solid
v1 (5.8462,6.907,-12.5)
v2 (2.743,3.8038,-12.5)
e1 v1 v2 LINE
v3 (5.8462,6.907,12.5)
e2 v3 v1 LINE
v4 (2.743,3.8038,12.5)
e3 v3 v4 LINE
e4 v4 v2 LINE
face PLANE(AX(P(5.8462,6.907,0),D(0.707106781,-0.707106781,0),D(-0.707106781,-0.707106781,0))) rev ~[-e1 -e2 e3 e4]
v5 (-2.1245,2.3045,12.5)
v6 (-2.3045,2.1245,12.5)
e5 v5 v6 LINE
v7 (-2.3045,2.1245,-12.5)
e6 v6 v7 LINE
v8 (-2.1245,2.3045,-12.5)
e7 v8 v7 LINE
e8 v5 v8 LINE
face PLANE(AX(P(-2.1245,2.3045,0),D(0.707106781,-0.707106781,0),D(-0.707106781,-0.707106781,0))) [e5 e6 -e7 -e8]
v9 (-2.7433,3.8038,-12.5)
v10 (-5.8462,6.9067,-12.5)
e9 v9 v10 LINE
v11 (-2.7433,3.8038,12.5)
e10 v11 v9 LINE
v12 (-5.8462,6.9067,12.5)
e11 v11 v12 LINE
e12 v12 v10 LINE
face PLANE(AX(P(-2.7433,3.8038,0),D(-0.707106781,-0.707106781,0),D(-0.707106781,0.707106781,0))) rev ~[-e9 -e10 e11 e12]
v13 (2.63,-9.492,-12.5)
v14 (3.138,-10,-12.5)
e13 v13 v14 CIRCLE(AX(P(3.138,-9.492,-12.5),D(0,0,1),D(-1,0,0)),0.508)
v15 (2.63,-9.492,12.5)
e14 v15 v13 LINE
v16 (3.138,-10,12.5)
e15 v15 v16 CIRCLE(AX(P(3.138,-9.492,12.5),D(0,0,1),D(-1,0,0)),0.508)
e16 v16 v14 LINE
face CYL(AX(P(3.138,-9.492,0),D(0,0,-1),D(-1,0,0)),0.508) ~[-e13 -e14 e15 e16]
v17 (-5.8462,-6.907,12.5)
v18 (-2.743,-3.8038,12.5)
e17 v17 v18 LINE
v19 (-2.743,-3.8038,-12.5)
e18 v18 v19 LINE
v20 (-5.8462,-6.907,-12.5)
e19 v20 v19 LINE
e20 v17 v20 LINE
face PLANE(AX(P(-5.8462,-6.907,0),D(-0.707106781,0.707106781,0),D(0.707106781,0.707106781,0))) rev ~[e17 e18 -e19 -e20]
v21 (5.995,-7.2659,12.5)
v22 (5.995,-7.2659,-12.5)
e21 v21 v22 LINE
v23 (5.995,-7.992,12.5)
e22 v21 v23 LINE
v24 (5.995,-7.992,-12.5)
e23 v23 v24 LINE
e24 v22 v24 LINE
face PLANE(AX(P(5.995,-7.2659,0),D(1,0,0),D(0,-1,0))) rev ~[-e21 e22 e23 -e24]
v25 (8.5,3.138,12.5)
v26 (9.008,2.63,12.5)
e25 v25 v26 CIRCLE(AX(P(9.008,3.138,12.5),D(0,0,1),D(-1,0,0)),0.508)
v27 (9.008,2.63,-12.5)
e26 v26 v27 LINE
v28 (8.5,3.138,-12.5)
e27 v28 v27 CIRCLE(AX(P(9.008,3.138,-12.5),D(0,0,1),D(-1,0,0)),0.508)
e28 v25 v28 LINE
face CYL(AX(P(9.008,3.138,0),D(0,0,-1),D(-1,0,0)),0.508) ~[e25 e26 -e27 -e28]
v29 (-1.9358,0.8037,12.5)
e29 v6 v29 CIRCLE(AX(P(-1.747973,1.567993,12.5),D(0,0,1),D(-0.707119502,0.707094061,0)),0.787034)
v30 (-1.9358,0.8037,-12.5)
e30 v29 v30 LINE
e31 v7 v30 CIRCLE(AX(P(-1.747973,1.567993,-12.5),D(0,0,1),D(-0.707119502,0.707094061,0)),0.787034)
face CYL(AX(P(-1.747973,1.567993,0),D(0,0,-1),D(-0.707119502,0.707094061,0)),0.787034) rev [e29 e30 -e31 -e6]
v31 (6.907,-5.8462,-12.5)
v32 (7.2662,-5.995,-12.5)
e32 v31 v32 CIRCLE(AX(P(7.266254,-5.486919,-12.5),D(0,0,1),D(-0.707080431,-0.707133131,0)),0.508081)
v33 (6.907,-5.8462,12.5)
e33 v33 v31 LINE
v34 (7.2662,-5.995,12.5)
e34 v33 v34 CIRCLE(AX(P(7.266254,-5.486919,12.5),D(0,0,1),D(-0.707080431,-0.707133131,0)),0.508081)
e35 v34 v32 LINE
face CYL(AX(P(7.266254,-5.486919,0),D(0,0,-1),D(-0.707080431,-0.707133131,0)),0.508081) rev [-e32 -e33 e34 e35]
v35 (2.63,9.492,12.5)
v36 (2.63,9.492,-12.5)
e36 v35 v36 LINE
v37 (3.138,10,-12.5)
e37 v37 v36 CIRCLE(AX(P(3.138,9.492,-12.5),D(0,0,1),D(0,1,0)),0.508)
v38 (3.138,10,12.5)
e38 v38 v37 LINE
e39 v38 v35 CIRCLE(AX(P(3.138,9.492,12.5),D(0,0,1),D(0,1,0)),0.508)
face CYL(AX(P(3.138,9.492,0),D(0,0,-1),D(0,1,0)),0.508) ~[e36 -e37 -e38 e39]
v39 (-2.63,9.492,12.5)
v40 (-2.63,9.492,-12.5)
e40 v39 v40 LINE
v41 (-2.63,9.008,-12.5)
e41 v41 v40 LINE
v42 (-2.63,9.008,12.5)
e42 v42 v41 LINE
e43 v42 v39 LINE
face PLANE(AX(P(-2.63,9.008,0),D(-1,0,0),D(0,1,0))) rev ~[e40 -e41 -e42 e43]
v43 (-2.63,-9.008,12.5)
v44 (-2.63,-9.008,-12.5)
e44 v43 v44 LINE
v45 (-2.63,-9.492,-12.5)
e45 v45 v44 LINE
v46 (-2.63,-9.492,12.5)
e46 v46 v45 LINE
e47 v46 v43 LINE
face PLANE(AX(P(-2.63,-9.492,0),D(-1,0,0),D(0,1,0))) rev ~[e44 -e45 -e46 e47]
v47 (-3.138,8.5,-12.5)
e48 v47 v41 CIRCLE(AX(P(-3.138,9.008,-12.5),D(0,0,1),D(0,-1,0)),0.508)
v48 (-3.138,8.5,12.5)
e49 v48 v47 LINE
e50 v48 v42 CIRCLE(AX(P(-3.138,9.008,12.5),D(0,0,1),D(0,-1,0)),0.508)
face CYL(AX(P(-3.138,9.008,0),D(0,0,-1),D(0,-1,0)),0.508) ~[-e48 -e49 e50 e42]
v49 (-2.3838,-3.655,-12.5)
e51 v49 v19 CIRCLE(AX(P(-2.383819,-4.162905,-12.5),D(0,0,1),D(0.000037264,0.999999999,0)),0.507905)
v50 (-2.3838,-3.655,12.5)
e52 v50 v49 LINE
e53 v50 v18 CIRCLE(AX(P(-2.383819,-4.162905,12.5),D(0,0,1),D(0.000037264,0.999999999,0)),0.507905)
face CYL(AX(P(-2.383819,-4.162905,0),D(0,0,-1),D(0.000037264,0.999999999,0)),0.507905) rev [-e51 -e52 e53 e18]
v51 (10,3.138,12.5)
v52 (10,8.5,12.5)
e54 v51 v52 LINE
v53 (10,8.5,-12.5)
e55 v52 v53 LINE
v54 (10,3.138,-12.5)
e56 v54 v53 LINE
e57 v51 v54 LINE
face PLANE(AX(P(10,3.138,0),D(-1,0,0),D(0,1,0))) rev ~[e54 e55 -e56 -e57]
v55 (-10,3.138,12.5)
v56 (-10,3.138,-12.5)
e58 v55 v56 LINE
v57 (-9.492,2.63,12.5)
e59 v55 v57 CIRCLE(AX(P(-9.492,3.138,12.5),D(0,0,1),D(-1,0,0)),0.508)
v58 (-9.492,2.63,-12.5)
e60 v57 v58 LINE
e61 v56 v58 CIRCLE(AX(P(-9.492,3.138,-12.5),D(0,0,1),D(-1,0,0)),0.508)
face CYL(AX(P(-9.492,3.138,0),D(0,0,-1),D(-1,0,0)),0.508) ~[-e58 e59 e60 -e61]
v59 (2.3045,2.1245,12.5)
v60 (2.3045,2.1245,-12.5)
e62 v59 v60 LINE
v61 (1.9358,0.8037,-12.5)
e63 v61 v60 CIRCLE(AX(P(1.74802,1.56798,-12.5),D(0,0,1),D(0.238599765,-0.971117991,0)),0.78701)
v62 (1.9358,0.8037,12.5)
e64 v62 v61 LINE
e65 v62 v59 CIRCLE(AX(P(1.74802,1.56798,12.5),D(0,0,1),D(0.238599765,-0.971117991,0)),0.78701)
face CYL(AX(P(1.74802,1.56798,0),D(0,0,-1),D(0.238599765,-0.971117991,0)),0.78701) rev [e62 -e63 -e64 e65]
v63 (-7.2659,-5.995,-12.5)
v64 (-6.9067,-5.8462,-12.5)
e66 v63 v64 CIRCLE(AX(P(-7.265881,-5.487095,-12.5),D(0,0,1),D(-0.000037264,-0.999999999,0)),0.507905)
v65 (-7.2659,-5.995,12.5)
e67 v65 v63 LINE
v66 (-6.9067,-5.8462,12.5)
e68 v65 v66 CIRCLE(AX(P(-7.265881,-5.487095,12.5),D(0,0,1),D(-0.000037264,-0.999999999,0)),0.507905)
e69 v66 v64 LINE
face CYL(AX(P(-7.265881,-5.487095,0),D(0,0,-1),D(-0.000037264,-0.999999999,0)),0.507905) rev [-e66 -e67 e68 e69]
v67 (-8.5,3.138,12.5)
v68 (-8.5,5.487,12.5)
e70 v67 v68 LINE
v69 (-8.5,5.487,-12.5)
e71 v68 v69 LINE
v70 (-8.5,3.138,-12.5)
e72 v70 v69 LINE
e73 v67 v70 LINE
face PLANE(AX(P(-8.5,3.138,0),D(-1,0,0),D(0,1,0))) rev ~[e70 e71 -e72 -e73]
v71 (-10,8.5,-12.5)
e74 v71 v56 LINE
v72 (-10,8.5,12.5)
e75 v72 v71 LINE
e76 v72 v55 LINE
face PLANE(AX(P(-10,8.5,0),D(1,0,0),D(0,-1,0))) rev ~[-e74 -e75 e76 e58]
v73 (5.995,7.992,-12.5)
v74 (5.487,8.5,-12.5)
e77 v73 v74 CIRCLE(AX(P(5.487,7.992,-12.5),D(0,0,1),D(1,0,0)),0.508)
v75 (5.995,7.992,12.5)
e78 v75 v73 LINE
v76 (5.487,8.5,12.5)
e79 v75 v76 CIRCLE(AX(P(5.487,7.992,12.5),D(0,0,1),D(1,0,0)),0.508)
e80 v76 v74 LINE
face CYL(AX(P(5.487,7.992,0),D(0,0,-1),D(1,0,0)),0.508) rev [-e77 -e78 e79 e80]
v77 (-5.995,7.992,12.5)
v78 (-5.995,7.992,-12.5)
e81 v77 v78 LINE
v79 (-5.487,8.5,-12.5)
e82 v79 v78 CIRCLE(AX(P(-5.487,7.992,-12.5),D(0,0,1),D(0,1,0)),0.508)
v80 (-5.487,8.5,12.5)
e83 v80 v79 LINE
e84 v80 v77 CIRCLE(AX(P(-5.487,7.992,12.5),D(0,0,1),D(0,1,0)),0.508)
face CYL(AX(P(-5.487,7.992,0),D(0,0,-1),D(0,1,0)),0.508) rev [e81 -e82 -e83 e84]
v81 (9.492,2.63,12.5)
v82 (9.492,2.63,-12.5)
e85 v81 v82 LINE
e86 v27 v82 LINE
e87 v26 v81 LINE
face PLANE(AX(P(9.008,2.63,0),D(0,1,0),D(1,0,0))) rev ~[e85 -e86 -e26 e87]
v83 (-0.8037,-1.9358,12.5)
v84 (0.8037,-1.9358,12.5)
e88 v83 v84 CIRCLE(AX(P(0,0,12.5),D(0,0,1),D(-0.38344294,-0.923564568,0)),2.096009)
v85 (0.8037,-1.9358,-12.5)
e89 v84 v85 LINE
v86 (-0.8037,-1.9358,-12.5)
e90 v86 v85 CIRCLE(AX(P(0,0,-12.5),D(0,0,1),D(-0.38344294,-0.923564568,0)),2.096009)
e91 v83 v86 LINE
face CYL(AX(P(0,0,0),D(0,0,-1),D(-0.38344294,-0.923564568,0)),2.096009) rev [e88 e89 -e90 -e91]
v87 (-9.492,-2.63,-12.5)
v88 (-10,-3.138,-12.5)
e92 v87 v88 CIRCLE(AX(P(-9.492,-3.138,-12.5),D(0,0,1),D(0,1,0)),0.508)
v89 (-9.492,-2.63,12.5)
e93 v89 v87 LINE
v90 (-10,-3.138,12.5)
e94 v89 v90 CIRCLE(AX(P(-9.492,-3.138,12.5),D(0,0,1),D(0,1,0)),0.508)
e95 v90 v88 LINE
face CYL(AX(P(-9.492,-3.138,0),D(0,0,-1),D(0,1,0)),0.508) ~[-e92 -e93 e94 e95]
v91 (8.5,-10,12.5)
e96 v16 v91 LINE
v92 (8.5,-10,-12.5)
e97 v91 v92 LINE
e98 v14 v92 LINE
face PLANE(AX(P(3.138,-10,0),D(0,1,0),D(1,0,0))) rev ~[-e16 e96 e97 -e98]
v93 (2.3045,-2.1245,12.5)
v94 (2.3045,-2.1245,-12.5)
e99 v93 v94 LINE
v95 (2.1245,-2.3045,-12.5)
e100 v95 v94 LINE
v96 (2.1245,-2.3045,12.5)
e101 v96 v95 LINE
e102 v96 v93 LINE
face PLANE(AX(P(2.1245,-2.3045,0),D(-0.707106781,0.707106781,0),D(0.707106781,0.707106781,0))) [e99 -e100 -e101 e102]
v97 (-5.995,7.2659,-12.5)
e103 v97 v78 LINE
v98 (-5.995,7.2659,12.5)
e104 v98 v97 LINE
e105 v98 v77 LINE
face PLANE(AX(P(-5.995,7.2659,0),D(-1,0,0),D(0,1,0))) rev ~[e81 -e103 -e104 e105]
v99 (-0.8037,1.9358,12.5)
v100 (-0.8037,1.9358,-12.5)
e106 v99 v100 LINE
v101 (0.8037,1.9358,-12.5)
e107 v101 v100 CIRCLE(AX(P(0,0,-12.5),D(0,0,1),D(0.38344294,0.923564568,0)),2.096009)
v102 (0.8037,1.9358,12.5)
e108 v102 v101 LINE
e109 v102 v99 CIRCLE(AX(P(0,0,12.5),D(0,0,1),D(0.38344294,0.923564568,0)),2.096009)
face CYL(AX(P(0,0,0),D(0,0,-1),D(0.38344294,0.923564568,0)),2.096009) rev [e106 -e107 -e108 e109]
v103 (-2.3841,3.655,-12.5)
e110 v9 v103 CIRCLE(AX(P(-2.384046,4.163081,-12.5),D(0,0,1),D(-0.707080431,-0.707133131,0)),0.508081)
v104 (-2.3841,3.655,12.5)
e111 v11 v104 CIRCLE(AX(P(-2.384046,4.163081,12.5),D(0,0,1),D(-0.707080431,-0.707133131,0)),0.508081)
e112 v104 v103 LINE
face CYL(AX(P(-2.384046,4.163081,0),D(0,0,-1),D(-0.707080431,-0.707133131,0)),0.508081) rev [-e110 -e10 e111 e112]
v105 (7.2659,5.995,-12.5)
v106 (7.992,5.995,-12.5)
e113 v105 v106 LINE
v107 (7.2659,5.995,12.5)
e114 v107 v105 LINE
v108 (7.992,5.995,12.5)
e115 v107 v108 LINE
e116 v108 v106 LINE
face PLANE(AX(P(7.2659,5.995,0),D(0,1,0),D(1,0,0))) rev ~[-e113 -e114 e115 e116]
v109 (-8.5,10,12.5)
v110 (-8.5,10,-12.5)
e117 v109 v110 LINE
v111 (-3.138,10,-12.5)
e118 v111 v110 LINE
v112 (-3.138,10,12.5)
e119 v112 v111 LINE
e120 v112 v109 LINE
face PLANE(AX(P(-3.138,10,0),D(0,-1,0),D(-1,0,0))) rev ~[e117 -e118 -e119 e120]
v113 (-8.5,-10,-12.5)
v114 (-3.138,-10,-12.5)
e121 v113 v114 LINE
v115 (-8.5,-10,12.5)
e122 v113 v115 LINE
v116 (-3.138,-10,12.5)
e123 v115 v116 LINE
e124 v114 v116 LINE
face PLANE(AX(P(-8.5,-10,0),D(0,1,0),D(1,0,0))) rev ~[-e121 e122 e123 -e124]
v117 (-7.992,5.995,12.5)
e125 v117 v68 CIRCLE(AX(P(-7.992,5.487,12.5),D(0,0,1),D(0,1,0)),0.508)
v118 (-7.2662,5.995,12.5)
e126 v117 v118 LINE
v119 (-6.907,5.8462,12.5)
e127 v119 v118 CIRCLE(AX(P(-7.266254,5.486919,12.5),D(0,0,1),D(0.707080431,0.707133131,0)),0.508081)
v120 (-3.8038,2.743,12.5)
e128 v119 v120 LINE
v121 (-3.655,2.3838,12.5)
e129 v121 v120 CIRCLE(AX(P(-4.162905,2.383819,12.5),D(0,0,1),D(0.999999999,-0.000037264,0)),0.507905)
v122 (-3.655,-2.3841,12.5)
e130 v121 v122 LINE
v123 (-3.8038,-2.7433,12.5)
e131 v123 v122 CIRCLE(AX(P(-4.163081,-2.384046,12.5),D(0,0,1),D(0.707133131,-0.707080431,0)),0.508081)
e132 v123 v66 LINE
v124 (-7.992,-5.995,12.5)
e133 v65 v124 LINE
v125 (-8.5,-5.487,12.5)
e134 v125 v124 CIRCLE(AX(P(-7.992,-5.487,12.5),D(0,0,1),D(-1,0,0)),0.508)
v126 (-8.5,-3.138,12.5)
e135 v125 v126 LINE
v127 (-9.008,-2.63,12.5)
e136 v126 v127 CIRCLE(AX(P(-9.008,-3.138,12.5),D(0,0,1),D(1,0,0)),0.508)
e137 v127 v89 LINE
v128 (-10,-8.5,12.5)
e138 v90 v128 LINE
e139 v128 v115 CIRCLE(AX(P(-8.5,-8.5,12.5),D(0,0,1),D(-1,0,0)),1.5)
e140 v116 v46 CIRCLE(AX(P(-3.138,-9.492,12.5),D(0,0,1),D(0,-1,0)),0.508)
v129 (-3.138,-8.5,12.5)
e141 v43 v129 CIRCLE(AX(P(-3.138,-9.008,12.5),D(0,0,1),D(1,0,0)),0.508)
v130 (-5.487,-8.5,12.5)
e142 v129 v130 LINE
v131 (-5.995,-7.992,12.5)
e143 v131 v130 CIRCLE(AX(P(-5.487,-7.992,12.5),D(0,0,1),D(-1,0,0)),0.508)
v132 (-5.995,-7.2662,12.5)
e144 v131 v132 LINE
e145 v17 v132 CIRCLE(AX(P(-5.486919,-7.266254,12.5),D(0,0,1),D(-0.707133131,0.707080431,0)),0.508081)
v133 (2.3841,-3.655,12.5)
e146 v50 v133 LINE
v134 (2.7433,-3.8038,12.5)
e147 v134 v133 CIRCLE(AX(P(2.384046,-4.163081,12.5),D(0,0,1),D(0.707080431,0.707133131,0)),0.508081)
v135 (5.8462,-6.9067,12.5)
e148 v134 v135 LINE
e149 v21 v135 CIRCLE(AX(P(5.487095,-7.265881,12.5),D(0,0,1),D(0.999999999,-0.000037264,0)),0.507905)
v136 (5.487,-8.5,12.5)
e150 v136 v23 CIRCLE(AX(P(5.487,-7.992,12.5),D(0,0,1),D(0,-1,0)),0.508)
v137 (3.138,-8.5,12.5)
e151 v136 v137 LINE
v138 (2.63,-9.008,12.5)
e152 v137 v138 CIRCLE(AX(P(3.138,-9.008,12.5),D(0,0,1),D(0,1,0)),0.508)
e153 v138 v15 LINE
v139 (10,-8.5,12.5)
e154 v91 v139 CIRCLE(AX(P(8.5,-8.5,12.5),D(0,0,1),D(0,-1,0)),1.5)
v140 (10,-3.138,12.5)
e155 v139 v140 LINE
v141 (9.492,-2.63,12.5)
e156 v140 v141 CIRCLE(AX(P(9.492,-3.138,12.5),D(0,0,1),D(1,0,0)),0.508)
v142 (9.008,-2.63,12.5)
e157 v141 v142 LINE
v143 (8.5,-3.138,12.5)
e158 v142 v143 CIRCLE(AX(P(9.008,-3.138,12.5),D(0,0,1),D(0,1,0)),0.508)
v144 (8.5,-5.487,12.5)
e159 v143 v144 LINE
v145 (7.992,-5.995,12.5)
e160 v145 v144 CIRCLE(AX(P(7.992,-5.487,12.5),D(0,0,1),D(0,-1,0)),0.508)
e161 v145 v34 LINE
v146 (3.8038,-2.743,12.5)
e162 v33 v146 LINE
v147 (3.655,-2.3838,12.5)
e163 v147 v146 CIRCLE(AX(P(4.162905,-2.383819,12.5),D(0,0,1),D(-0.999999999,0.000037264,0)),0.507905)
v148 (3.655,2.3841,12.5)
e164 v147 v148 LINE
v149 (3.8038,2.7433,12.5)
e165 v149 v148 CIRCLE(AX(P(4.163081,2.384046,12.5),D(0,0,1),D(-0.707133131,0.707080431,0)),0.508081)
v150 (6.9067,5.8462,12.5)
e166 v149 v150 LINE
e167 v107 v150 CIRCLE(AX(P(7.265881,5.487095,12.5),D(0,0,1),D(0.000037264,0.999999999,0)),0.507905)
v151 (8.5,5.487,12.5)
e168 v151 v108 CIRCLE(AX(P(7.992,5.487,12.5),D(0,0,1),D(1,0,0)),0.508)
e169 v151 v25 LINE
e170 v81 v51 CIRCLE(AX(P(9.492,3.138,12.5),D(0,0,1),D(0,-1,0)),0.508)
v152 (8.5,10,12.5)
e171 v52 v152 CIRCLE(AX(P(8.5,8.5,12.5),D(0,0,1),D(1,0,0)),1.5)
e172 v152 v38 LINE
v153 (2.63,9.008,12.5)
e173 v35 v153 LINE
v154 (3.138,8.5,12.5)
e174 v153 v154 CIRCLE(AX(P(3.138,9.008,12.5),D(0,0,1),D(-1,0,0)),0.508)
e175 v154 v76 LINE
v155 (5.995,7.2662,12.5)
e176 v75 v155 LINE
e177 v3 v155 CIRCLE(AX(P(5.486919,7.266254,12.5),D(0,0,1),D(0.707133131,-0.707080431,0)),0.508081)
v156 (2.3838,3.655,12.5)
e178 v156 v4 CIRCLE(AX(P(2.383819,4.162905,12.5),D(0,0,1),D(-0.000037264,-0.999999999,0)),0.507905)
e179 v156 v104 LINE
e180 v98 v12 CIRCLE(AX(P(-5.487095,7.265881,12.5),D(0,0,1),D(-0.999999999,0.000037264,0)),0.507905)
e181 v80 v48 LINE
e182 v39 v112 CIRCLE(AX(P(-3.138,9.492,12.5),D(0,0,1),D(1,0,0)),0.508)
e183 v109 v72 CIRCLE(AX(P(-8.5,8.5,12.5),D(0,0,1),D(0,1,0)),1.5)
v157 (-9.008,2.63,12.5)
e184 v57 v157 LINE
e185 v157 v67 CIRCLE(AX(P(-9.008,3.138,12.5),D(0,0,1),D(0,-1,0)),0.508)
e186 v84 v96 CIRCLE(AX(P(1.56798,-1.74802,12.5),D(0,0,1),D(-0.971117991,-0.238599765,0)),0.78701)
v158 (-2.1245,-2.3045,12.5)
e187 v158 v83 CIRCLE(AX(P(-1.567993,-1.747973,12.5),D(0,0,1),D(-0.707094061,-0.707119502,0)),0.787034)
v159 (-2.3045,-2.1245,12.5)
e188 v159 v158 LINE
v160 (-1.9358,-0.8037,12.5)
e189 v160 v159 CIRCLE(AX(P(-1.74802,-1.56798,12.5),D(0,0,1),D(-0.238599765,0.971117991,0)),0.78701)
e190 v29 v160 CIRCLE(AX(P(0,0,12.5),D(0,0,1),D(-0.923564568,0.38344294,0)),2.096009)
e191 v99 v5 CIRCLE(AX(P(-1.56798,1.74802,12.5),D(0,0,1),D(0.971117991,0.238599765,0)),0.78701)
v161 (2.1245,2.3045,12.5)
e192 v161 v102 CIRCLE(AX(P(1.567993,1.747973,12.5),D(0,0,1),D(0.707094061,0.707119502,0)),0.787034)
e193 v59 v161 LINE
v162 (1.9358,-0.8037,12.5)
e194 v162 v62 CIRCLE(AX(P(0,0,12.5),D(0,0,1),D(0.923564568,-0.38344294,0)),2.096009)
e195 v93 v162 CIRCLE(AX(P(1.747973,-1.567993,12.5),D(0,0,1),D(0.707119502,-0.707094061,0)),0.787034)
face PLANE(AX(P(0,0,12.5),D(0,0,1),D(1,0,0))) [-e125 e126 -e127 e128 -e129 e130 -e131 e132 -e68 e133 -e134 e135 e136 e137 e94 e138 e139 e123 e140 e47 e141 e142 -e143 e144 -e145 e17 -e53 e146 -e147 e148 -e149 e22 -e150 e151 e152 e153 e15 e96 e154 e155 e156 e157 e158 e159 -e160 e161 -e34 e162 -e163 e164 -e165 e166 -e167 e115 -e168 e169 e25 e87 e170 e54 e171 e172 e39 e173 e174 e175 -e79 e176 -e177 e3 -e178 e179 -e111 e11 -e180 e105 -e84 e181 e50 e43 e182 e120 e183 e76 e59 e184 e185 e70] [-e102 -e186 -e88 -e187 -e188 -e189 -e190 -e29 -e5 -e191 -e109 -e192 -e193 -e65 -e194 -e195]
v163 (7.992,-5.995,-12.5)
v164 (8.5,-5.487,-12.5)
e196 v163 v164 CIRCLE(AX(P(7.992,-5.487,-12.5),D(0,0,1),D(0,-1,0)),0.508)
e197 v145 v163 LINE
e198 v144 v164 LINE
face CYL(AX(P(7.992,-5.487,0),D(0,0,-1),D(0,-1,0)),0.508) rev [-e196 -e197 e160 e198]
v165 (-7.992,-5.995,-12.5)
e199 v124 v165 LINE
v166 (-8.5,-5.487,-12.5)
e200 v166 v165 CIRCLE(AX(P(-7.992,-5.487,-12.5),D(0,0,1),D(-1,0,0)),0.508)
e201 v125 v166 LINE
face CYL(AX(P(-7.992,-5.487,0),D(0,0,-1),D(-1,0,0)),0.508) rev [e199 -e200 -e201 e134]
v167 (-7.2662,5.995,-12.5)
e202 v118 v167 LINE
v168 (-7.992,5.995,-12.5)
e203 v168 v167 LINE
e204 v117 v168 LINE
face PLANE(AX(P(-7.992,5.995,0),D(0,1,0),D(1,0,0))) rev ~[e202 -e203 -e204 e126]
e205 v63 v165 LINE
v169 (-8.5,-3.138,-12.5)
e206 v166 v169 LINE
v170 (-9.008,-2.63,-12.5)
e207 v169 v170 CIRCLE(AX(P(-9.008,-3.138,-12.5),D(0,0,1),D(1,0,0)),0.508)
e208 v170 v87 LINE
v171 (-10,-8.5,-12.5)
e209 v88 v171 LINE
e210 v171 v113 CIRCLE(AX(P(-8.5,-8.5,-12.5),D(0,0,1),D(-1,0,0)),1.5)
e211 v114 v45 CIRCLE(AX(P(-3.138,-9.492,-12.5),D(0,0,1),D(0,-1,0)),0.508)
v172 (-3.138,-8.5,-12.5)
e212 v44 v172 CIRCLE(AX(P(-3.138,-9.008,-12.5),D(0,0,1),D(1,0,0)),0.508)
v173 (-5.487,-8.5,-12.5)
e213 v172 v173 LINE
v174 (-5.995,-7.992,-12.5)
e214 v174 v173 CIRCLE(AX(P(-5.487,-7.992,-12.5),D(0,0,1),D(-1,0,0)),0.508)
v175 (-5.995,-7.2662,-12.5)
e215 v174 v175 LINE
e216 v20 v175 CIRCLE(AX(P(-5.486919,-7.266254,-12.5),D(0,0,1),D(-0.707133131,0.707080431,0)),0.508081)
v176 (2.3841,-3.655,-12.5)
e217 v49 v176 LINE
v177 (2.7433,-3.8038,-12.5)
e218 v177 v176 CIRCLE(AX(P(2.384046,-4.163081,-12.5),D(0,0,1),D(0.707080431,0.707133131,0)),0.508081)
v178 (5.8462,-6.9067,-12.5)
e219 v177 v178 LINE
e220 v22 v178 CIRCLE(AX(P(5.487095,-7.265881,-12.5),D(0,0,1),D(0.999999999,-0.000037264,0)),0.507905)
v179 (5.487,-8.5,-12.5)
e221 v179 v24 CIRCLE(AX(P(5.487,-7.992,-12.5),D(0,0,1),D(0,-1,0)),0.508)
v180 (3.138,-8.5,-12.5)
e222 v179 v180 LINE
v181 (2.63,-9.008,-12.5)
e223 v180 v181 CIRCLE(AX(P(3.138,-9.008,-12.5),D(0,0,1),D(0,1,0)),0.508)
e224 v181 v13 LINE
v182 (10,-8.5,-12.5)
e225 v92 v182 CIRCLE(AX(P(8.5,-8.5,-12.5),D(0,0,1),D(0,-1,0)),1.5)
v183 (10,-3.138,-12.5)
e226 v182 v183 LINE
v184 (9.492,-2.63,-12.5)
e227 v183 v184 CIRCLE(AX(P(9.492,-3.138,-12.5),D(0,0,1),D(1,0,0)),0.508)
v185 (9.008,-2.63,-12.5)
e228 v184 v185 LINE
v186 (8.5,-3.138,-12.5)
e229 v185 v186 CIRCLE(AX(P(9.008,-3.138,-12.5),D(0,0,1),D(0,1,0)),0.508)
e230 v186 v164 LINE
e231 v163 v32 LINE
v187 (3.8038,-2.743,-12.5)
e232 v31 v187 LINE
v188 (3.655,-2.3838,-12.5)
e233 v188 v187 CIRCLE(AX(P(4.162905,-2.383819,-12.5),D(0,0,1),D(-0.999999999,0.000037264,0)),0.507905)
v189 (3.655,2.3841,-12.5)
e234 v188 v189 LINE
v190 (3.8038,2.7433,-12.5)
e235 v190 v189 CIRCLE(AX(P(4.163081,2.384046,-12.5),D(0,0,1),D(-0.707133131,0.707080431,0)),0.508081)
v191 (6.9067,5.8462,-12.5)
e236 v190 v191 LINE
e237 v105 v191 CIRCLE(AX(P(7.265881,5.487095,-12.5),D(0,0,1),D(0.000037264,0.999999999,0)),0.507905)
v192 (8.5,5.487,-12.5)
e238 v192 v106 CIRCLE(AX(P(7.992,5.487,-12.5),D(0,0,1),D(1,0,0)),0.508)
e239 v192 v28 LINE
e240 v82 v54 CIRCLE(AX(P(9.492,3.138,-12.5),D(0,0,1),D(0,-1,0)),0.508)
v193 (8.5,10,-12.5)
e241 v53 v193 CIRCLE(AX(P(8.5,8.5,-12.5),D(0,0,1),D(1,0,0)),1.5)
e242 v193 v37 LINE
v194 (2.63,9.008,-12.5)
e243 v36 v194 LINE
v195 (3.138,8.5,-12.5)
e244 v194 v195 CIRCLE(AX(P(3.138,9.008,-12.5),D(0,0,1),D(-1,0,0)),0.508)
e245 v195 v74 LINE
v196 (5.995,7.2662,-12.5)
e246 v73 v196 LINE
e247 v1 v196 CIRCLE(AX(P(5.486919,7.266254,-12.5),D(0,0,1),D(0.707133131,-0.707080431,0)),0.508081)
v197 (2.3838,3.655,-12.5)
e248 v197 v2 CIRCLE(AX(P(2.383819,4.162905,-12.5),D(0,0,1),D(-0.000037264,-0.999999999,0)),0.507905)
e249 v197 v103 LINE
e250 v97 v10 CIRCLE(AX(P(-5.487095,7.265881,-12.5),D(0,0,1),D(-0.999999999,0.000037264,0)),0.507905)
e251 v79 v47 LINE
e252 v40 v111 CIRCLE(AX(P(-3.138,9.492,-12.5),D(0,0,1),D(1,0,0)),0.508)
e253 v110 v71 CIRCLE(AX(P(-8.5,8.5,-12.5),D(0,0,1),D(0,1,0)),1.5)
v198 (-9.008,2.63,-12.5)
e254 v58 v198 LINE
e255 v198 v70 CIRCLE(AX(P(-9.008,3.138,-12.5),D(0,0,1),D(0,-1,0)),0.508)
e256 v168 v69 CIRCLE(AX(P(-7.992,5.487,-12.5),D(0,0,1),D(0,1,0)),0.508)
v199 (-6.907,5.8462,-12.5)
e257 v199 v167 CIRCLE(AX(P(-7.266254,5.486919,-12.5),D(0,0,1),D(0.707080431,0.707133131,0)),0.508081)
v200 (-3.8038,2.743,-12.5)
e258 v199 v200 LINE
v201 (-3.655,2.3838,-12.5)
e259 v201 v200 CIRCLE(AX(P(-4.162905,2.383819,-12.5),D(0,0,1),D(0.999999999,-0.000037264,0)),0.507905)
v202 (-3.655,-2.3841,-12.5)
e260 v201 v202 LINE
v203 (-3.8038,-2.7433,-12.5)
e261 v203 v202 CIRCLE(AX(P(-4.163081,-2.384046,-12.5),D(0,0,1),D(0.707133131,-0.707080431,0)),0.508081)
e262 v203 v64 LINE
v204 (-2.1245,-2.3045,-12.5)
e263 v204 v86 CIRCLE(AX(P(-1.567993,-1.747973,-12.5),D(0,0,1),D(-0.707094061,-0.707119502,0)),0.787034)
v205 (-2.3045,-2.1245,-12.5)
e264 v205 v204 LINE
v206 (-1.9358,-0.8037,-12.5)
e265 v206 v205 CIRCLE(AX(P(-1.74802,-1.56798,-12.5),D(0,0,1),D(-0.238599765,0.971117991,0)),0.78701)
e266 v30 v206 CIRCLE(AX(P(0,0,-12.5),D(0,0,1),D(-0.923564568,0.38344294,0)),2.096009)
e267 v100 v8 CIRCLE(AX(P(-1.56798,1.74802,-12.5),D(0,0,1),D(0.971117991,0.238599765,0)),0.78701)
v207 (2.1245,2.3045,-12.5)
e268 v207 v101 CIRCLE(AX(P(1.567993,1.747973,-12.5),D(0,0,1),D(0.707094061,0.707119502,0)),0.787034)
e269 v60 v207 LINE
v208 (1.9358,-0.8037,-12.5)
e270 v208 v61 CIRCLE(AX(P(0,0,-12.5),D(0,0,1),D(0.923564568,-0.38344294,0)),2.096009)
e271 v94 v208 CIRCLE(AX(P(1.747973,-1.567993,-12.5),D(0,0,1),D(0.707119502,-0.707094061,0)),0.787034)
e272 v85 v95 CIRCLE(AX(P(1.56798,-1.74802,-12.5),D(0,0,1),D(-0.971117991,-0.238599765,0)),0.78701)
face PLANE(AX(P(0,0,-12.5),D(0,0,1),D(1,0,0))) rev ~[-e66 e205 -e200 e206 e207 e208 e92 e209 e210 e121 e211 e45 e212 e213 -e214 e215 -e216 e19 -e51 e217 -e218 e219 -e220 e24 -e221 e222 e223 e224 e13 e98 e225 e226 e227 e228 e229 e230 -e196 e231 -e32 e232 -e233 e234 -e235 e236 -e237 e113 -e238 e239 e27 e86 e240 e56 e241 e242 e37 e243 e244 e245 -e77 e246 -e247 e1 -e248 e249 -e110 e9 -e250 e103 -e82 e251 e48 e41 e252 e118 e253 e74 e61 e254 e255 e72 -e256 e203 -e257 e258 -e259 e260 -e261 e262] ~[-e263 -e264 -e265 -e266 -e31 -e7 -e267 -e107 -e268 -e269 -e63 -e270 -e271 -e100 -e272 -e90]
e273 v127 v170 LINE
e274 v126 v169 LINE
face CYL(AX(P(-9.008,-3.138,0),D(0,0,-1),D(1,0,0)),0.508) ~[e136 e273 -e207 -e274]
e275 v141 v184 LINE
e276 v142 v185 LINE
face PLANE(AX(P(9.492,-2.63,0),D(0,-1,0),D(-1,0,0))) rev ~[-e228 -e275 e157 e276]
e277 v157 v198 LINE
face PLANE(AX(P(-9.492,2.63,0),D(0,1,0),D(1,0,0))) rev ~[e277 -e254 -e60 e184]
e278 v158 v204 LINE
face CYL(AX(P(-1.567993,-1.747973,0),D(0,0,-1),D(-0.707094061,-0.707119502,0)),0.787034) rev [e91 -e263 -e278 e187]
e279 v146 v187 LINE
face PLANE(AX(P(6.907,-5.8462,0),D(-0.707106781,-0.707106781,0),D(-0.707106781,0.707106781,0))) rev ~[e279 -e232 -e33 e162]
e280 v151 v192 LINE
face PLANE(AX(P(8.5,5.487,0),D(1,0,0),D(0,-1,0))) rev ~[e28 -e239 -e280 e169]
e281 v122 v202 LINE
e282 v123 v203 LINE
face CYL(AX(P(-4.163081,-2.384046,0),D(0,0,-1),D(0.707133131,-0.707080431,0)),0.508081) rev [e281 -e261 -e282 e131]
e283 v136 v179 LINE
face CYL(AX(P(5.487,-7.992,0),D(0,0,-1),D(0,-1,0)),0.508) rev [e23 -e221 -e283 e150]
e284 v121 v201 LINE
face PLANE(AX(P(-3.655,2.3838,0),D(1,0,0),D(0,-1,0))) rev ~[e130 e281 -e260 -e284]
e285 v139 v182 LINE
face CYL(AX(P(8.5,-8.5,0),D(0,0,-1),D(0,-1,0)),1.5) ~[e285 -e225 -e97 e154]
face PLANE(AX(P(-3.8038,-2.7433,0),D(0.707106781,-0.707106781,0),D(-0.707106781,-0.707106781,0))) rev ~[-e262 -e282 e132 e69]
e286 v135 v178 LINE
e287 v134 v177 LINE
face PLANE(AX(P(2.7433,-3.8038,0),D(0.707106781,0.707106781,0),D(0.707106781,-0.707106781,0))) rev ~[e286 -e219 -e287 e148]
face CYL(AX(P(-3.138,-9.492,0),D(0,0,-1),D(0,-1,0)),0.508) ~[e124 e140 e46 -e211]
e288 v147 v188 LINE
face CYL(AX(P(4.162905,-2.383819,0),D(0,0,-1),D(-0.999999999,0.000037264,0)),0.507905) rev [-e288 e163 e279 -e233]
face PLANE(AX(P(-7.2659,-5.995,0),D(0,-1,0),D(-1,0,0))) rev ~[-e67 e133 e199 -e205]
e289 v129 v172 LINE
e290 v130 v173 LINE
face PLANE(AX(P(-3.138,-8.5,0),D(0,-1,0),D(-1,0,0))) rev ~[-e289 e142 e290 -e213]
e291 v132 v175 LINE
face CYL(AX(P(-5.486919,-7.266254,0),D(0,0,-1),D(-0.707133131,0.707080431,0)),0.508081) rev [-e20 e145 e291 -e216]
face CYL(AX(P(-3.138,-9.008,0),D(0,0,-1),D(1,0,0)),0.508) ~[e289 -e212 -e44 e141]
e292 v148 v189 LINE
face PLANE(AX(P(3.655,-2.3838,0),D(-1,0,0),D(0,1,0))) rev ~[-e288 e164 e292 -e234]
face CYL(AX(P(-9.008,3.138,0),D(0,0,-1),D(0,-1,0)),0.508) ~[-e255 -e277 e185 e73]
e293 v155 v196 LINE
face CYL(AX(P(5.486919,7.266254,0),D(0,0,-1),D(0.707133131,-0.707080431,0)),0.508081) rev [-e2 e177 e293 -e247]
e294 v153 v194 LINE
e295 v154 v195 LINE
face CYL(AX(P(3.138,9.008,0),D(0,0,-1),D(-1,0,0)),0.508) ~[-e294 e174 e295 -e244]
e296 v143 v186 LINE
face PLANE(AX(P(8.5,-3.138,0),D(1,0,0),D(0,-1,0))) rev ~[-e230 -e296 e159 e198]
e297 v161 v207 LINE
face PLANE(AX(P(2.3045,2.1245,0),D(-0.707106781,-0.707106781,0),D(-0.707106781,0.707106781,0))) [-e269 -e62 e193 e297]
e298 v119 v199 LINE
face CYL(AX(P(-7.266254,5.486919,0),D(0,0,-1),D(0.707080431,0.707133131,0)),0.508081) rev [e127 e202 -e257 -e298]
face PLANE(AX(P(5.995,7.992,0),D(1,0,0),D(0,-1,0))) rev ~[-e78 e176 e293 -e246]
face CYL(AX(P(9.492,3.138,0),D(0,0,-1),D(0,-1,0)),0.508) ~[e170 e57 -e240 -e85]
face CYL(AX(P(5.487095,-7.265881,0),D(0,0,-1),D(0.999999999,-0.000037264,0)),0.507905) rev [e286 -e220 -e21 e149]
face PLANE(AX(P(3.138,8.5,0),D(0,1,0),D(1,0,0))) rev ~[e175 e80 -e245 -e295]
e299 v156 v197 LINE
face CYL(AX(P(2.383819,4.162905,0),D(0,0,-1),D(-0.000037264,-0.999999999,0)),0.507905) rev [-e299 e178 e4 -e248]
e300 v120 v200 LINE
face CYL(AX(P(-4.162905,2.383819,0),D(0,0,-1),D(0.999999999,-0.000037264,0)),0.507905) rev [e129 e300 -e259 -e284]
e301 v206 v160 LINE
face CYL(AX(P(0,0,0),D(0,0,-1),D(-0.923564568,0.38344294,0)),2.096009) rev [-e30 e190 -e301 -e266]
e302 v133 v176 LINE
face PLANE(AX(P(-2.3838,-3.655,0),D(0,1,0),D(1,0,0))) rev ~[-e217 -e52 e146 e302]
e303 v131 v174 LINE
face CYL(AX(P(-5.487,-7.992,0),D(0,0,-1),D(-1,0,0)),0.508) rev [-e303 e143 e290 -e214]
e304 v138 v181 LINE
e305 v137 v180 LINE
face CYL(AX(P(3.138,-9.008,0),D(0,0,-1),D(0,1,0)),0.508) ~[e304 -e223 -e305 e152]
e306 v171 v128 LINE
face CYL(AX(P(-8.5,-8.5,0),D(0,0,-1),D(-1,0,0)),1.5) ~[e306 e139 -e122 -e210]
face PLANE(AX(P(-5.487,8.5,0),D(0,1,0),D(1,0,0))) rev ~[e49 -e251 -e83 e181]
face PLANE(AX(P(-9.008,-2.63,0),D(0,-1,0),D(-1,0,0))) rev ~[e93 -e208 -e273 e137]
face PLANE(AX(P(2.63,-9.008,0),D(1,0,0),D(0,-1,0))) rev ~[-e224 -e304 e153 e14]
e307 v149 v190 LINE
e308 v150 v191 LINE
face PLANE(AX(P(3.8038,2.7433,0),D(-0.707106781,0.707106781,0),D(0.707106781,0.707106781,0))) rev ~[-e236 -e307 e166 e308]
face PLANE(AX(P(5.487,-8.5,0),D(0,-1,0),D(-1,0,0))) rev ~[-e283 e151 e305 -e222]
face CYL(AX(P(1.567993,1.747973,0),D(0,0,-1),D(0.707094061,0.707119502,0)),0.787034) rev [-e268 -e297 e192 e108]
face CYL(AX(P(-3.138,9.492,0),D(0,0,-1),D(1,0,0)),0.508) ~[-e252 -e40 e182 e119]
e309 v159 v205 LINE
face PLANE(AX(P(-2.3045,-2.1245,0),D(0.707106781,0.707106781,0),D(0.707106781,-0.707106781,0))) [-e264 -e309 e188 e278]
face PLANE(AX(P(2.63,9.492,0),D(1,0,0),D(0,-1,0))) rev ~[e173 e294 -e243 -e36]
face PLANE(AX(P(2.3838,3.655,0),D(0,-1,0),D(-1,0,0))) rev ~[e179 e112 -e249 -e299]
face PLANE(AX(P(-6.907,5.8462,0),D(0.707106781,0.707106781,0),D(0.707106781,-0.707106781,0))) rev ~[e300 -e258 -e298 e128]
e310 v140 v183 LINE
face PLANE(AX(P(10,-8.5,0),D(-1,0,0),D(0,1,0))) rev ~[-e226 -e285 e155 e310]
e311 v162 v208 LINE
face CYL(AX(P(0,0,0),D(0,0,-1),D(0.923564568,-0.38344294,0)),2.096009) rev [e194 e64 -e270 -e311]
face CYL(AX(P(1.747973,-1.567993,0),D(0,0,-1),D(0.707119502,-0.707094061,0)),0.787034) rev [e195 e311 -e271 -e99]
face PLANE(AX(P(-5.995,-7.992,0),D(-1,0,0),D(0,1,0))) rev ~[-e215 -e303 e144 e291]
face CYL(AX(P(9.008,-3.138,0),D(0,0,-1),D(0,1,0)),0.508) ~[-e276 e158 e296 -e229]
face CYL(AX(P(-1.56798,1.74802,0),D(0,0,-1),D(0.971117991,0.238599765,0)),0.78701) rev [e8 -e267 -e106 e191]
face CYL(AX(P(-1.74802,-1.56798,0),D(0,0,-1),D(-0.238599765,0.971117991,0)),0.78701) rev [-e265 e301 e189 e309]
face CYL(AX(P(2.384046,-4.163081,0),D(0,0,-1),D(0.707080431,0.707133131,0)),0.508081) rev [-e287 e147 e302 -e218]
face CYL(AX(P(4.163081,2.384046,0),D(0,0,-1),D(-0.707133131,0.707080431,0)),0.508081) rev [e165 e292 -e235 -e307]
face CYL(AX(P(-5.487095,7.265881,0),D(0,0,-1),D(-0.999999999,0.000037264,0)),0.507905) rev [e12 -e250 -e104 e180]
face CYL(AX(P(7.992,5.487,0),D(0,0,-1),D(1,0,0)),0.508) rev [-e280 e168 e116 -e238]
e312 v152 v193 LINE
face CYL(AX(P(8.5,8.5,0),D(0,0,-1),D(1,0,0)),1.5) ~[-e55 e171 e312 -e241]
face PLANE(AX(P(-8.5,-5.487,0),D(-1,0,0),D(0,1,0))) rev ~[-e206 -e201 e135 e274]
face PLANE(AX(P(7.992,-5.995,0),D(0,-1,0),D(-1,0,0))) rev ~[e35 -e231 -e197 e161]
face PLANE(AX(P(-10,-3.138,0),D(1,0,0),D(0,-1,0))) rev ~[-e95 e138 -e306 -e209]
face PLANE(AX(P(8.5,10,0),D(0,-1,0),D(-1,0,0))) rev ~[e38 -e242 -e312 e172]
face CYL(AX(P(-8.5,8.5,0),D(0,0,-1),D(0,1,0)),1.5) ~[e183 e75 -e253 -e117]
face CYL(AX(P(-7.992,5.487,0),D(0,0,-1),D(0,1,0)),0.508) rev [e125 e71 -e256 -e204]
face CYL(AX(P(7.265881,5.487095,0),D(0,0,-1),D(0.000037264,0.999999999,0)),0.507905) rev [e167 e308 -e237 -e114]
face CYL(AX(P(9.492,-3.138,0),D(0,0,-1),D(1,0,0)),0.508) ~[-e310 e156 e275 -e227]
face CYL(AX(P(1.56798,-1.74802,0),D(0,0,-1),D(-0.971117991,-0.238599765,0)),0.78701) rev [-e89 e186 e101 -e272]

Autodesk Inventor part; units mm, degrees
ref_plane "YZ Plane" through (0, 0, 0) normal (1, 0, 0) x (0, 1, 0)
sketch "Sketch_1" plane through (0, 0, 0) normal (0, 0, 1) x (1, 0, 0)
  arc A0 (-10, -8.5) -> (-8.5, -10) centre (-8.5, -8.5) ccw
  line L0 (-8.5, -10) -> (-3.138, -10)
  arc A1 (-3.138, -10) -> (-2.63, -9.492) centre (-3.138, -9.492) ccw
  line L1 (-2.63, -9.492) -> (-2.63, -9.008)
  arc A2 (-2.63, -9.008) -> (-3.138, -8.5) centre (-3.138, -9.008) ccw
  line L2 (-3.138, -8.5) -> (-5.487, -8.5)
  arc A3 (-5.995, -7.992) -> (-5.487, -8.5) centre (-5.487, -7.992) ccw
  line L3 (-5.995, -7.992) -> (-5.995, -7.2662)
  arc A4 (-5.8462, -6.907) -> (-5.995, -7.2662) centre (-5.487, -7.2662) ccw
  line L4 (-5.8462, -6.907) -> (-2.743, -3.8038)
  arc A5 (-2.3838, -3.655) -> (-2.743, -3.8038) centre (-2.3838, -4.163) ccw
  line L5 (-2.3838, -3.655) -> (2.3841, -3.655)
  arc A6 (2.7433, -3.8038) -> (2.3841, -3.655) centre (2.3841, -4.163) ccw
  line L6 (2.7433, -3.8038) -> (5.8462, -6.9067)
  arc A7 (5.995, -7.2659) -> (5.8462, -6.9067) centre (5.487, -7.2659) ccw
  line L7 (5.995, -7.2659) -> (5.995, -7.992)
  arc A8 (5.487, -8.5) -> (5.995, -7.992) centre (5.487, -7.992) ccw
  line L8 (5.487, -8.5) -> (3.138, -8.5)
  arc A9 (3.138, -8.5) -> (2.63, -9.008) centre (3.138, -9.008) ccw
  line L9 (2.63, -9.008) -> (2.63, -9.492)
  arc A10 (2.63, -9.492) -> (3.138, -10) centre (3.138, -9.492) ccw
  line L10 (3.138, -10) -> (8.5, -10)
  arc A11 (8.5, -10) -> (10, -8.5) centre (8.5, -8.5) ccw
  line L11 (10, -8.5) -> (10, -3.138)
  arc A12 (10, -3.138) -> (9.492, -2.63) centre (9.492, -3.138) ccw
  line L12 (9.492, -2.63) -> (9.008, -2.63)
  arc A13 (9.008, -2.63) -> (8.5, -3.138) centre (9.008, -3.138) ccw
  line L13 (8.5, -3.138) -> (8.5, -5.487)
  arc A14 (7.992, -5.995) -> (8.5, -5.487) centre (7.992, -5.487) ccw
  line L14 (7.992, -5.995) -> (7.2662, -5.995)
  arc A15 (6.907, -5.8462) -> (7.2662, -5.995) centre (7.2662, -5.487) ccw
  line L15 (6.907, -5.8462) -> (3.8038, -2.743)
  arc A16 (3.655, -2.3838) -> (3.8038, -2.743) centre (4.163, -2.3838) ccw
  line L16 (3.655, -2.3838) -> (3.655, 2.3841)
  arc A17 (3.8038, 2.7433) -> (3.655, 2.3841) centre (4.163, 2.3841) ccw
  line L17 (3.8038, 2.7433) -> (6.9067, 5.8462)
  arc A18 (7.2659, 5.995) -> (6.9067, 5.8462) centre (7.2659, 5.487) ccw
  line L18 (7.2659, 5.995) -> (7.992, 5.995)
  arc A19 (8.5, 5.487) -> (7.992, 5.995) centre (7.992, 5.487) ccw
  line L19 (8.5, 5.487) -> (8.5, 3.138)
  arc A20 (8.5, 3.138) -> (9.008, 2.63) centre (9.008, 3.138) ccw
  line L20 (9.008, 2.63) -> (9.492, 2.63)
  arc A21 (9.492, 2.63) -> (10, 3.138) centre (9.492, 3.138) ccw
  line L21 (10, 3.138) -> (10, 8.5)
  arc A22 (10, 8.5) -> (8.5, 10) centre (8.5, 8.5) ccw
  line L22 (8.5, 10) -> (3.138, 10)
  arc A23 (3.138, 10) -> (2.63, 9.492) centre (3.138, 9.492) ccw
  line L23 (2.63, 9.492) -> (2.63, 9.008)
  arc A24 (2.63, 9.008) -> (3.138, 8.5) centre (3.138, 9.008) ccw
  line L24 (3.138, 8.5) -> (5.487, 8.5)
  arc A25 (5.995, 7.992) -> (5.487, 8.5) centre (5.487, 7.992) ccw
  line L25 (5.995, 7.992) -> (5.995, 7.2662)
  arc A26 (5.8462, 6.907) -> (5.995, 7.2662) centre (5.487, 7.2662) ccw
  line L26 (5.8462, 6.907) -> (2.743, 3.8038)
  arc A27 (2.3838, 3.655) -> (2.743, 3.8038) centre (2.3838, 4.163) ccw
  line L27 (2.3838, 3.655) -> (-2.3841, 3.655)
  arc A28 (-2.7433, 3.8038) -> (-2.3841, 3.655) centre (-2.3841, 4.163) ccw
  line L28 (-2.7433, 3.8038) -> (-5.8462, 6.9067)
  arc A29 (-5.995, 7.2659) -> (-5.8462, 6.9067) centre (-5.487, 7.2659) ccw
  line L29 (-5.995, 7.2659) -> (-5.995, 7.992)
  arc A30 (-5.487, 8.5) -> (-5.995, 7.992) centre (-5.487, 7.992) ccw
  line L30 (-5.487, 8.5) -> (-3.138, 8.5)
  arc A31 (-3.138, 8.5) -> (-2.63, 9.008) centre (-3.138, 9.008) ccw
  line L31 (-2.63, 9.008) -> (-2.63, 9.492)
  arc A32 (-2.63, 9.492) -> (-3.138, 10) centre (-3.138, 9.492) ccw
  line L32 (-3.138, 10) -> (-8.5, 10)
  arc A33 (-8.5, 10) -> (-10, 8.5) centre (-8.5, 8.5) ccw
  line L33 (-10, 8.5) -> (-10, 3.138)
  arc A34 (-10, 3.138) -> (-9.492, 2.63) centre (-9.492, 3.138) ccw
  line L34 (-9.492, 2.63) -> (-9.008, 2.63)
  arc A35 (-9.008, 2.63) -> (-8.5, 3.138) centre (-9.008, 3.138) ccw
  line L35 (-8.5, 3.138) -> (-8.5, 5.487)
  arc A36 (-7.992, 5.995) -> (-8.5, 5.487) centre (-7.992, 5.487) ccw
  line L36 (-7.992, 5.995) -> (-7.2662, 5.995)
  arc A37 (-6.907, 5.8462) -> (-7.2662, 5.995) centre (-7.2662, 5.487) ccw
  line L37 (-6.907, 5.8462) -> (-3.8038, 2.743)
  arc A38 (-3.655, 2.3838) -> (-3.8038, 2.743) centre (-4.163, 2.3838) ccw
  line L38 (-3.655, 2.3838) -> (-3.655, -2.3841)
  arc A39 (-3.8038, -2.7433) -> (-3.655, -2.3841) centre (-4.163, -2.3841) ccw
  line L39 (-3.8038, -2.7433) -> (-6.9067, -5.8462)
  arc A40 (-7.2659, -5.995) -> (-6.9067, -5.8462) centre (-7.2659, -5.487) ccw
  line L40 (-7.2659, -5.995) -> (-7.992, -5.995)
  arc A41 (-8.5, -5.487) -> (-7.992, -5.995) centre (-7.992, -5.487) ccw
  line L41 (-8.5, -5.487) -> (-8.5, -3.138)
  arc A42 (-8.5, -3.138) -> (-9.008, -2.63) centre (-9.008, -3.138) ccw
  line L42 (-9.008, -2.63) -> (-9.492, -2.63)
  arc A43 (-9.492, -2.63) -> (-10, -3.138) centre (-9.492, -3.138) ccw
  line L43 (-10, -3.138) -> (-10, -8.5)
  arc A44 (-1.9358, -0.8037) -> (-2.3045, -2.1245) centre (-1.748, -1.568) ccw
  line L44 (-2.3045, -2.1245) -> (-2.1245, -2.3045)
  arc A45 (-2.1245, -2.3045) -> (-0.8037, -1.9358) centre (-1.568, -1.748) ccw
  arc A46 (-0.8037, -1.9358) -> (0.8037, -1.9358) centre (0, 0) ccw
  arc A47 (0.8037, -1.9358) -> (2.1245, -2.3045) centre (1.568, -1.748) ccw
  line L45 (2.1245, -2.3045) -> (2.3045, -2.1245)
  arc A48 (2.3045, -2.1245) -> (1.9358, -0.8037) centre (1.748, -1.568) ccw
  arc A49 (1.9358, -0.8037) -> (1.9358, 0.8037) centre (0, 0) ccw
  arc A50 (1.9358, 0.8037) -> (2.3045, 2.1245) centre (1.748, 1.568) ccw
  line L46 (2.3045, 2.1245) -> (2.1245, 2.3045)
  arc A51 (2.1245, 2.3045) -> (0.8037, 1.9358) centre (1.568, 1.748) ccw
  arc A52 (0.8037, 1.9358) -> (-0.8037, 1.9358) centre (0, 0) ccw
  arc A53 (-0.8037, 1.9358) -> (-2.1245, 2.3045) centre (-1.568, 1.748) ccw
  line L47 (-2.1245, 2.3045) -> (-2.3045, 2.1245)
  arc A54 (-2.3045, 2.1245) -> (-1.9358, 0.8037) centre (-1.748, 1.568) ccw
  arc A55 (-1.9358, 0.8037) -> (-1.9358, -0.8037) centre (0, 0) ccw
extrude "Extrusion1" add sketch "Sketch_1" along normal mid plane 25
ref_plane "Work Plane1" through (0, 0, 0) normal (0, 0, 1) x (-1, 0, 0)
ref_plane "Work Plane2" through (9.008, 0, 12.5) normal (0, -1, 0) x (1, 0, 0)
properties part number "20x20x25 T Slot Extrusion Bar"
